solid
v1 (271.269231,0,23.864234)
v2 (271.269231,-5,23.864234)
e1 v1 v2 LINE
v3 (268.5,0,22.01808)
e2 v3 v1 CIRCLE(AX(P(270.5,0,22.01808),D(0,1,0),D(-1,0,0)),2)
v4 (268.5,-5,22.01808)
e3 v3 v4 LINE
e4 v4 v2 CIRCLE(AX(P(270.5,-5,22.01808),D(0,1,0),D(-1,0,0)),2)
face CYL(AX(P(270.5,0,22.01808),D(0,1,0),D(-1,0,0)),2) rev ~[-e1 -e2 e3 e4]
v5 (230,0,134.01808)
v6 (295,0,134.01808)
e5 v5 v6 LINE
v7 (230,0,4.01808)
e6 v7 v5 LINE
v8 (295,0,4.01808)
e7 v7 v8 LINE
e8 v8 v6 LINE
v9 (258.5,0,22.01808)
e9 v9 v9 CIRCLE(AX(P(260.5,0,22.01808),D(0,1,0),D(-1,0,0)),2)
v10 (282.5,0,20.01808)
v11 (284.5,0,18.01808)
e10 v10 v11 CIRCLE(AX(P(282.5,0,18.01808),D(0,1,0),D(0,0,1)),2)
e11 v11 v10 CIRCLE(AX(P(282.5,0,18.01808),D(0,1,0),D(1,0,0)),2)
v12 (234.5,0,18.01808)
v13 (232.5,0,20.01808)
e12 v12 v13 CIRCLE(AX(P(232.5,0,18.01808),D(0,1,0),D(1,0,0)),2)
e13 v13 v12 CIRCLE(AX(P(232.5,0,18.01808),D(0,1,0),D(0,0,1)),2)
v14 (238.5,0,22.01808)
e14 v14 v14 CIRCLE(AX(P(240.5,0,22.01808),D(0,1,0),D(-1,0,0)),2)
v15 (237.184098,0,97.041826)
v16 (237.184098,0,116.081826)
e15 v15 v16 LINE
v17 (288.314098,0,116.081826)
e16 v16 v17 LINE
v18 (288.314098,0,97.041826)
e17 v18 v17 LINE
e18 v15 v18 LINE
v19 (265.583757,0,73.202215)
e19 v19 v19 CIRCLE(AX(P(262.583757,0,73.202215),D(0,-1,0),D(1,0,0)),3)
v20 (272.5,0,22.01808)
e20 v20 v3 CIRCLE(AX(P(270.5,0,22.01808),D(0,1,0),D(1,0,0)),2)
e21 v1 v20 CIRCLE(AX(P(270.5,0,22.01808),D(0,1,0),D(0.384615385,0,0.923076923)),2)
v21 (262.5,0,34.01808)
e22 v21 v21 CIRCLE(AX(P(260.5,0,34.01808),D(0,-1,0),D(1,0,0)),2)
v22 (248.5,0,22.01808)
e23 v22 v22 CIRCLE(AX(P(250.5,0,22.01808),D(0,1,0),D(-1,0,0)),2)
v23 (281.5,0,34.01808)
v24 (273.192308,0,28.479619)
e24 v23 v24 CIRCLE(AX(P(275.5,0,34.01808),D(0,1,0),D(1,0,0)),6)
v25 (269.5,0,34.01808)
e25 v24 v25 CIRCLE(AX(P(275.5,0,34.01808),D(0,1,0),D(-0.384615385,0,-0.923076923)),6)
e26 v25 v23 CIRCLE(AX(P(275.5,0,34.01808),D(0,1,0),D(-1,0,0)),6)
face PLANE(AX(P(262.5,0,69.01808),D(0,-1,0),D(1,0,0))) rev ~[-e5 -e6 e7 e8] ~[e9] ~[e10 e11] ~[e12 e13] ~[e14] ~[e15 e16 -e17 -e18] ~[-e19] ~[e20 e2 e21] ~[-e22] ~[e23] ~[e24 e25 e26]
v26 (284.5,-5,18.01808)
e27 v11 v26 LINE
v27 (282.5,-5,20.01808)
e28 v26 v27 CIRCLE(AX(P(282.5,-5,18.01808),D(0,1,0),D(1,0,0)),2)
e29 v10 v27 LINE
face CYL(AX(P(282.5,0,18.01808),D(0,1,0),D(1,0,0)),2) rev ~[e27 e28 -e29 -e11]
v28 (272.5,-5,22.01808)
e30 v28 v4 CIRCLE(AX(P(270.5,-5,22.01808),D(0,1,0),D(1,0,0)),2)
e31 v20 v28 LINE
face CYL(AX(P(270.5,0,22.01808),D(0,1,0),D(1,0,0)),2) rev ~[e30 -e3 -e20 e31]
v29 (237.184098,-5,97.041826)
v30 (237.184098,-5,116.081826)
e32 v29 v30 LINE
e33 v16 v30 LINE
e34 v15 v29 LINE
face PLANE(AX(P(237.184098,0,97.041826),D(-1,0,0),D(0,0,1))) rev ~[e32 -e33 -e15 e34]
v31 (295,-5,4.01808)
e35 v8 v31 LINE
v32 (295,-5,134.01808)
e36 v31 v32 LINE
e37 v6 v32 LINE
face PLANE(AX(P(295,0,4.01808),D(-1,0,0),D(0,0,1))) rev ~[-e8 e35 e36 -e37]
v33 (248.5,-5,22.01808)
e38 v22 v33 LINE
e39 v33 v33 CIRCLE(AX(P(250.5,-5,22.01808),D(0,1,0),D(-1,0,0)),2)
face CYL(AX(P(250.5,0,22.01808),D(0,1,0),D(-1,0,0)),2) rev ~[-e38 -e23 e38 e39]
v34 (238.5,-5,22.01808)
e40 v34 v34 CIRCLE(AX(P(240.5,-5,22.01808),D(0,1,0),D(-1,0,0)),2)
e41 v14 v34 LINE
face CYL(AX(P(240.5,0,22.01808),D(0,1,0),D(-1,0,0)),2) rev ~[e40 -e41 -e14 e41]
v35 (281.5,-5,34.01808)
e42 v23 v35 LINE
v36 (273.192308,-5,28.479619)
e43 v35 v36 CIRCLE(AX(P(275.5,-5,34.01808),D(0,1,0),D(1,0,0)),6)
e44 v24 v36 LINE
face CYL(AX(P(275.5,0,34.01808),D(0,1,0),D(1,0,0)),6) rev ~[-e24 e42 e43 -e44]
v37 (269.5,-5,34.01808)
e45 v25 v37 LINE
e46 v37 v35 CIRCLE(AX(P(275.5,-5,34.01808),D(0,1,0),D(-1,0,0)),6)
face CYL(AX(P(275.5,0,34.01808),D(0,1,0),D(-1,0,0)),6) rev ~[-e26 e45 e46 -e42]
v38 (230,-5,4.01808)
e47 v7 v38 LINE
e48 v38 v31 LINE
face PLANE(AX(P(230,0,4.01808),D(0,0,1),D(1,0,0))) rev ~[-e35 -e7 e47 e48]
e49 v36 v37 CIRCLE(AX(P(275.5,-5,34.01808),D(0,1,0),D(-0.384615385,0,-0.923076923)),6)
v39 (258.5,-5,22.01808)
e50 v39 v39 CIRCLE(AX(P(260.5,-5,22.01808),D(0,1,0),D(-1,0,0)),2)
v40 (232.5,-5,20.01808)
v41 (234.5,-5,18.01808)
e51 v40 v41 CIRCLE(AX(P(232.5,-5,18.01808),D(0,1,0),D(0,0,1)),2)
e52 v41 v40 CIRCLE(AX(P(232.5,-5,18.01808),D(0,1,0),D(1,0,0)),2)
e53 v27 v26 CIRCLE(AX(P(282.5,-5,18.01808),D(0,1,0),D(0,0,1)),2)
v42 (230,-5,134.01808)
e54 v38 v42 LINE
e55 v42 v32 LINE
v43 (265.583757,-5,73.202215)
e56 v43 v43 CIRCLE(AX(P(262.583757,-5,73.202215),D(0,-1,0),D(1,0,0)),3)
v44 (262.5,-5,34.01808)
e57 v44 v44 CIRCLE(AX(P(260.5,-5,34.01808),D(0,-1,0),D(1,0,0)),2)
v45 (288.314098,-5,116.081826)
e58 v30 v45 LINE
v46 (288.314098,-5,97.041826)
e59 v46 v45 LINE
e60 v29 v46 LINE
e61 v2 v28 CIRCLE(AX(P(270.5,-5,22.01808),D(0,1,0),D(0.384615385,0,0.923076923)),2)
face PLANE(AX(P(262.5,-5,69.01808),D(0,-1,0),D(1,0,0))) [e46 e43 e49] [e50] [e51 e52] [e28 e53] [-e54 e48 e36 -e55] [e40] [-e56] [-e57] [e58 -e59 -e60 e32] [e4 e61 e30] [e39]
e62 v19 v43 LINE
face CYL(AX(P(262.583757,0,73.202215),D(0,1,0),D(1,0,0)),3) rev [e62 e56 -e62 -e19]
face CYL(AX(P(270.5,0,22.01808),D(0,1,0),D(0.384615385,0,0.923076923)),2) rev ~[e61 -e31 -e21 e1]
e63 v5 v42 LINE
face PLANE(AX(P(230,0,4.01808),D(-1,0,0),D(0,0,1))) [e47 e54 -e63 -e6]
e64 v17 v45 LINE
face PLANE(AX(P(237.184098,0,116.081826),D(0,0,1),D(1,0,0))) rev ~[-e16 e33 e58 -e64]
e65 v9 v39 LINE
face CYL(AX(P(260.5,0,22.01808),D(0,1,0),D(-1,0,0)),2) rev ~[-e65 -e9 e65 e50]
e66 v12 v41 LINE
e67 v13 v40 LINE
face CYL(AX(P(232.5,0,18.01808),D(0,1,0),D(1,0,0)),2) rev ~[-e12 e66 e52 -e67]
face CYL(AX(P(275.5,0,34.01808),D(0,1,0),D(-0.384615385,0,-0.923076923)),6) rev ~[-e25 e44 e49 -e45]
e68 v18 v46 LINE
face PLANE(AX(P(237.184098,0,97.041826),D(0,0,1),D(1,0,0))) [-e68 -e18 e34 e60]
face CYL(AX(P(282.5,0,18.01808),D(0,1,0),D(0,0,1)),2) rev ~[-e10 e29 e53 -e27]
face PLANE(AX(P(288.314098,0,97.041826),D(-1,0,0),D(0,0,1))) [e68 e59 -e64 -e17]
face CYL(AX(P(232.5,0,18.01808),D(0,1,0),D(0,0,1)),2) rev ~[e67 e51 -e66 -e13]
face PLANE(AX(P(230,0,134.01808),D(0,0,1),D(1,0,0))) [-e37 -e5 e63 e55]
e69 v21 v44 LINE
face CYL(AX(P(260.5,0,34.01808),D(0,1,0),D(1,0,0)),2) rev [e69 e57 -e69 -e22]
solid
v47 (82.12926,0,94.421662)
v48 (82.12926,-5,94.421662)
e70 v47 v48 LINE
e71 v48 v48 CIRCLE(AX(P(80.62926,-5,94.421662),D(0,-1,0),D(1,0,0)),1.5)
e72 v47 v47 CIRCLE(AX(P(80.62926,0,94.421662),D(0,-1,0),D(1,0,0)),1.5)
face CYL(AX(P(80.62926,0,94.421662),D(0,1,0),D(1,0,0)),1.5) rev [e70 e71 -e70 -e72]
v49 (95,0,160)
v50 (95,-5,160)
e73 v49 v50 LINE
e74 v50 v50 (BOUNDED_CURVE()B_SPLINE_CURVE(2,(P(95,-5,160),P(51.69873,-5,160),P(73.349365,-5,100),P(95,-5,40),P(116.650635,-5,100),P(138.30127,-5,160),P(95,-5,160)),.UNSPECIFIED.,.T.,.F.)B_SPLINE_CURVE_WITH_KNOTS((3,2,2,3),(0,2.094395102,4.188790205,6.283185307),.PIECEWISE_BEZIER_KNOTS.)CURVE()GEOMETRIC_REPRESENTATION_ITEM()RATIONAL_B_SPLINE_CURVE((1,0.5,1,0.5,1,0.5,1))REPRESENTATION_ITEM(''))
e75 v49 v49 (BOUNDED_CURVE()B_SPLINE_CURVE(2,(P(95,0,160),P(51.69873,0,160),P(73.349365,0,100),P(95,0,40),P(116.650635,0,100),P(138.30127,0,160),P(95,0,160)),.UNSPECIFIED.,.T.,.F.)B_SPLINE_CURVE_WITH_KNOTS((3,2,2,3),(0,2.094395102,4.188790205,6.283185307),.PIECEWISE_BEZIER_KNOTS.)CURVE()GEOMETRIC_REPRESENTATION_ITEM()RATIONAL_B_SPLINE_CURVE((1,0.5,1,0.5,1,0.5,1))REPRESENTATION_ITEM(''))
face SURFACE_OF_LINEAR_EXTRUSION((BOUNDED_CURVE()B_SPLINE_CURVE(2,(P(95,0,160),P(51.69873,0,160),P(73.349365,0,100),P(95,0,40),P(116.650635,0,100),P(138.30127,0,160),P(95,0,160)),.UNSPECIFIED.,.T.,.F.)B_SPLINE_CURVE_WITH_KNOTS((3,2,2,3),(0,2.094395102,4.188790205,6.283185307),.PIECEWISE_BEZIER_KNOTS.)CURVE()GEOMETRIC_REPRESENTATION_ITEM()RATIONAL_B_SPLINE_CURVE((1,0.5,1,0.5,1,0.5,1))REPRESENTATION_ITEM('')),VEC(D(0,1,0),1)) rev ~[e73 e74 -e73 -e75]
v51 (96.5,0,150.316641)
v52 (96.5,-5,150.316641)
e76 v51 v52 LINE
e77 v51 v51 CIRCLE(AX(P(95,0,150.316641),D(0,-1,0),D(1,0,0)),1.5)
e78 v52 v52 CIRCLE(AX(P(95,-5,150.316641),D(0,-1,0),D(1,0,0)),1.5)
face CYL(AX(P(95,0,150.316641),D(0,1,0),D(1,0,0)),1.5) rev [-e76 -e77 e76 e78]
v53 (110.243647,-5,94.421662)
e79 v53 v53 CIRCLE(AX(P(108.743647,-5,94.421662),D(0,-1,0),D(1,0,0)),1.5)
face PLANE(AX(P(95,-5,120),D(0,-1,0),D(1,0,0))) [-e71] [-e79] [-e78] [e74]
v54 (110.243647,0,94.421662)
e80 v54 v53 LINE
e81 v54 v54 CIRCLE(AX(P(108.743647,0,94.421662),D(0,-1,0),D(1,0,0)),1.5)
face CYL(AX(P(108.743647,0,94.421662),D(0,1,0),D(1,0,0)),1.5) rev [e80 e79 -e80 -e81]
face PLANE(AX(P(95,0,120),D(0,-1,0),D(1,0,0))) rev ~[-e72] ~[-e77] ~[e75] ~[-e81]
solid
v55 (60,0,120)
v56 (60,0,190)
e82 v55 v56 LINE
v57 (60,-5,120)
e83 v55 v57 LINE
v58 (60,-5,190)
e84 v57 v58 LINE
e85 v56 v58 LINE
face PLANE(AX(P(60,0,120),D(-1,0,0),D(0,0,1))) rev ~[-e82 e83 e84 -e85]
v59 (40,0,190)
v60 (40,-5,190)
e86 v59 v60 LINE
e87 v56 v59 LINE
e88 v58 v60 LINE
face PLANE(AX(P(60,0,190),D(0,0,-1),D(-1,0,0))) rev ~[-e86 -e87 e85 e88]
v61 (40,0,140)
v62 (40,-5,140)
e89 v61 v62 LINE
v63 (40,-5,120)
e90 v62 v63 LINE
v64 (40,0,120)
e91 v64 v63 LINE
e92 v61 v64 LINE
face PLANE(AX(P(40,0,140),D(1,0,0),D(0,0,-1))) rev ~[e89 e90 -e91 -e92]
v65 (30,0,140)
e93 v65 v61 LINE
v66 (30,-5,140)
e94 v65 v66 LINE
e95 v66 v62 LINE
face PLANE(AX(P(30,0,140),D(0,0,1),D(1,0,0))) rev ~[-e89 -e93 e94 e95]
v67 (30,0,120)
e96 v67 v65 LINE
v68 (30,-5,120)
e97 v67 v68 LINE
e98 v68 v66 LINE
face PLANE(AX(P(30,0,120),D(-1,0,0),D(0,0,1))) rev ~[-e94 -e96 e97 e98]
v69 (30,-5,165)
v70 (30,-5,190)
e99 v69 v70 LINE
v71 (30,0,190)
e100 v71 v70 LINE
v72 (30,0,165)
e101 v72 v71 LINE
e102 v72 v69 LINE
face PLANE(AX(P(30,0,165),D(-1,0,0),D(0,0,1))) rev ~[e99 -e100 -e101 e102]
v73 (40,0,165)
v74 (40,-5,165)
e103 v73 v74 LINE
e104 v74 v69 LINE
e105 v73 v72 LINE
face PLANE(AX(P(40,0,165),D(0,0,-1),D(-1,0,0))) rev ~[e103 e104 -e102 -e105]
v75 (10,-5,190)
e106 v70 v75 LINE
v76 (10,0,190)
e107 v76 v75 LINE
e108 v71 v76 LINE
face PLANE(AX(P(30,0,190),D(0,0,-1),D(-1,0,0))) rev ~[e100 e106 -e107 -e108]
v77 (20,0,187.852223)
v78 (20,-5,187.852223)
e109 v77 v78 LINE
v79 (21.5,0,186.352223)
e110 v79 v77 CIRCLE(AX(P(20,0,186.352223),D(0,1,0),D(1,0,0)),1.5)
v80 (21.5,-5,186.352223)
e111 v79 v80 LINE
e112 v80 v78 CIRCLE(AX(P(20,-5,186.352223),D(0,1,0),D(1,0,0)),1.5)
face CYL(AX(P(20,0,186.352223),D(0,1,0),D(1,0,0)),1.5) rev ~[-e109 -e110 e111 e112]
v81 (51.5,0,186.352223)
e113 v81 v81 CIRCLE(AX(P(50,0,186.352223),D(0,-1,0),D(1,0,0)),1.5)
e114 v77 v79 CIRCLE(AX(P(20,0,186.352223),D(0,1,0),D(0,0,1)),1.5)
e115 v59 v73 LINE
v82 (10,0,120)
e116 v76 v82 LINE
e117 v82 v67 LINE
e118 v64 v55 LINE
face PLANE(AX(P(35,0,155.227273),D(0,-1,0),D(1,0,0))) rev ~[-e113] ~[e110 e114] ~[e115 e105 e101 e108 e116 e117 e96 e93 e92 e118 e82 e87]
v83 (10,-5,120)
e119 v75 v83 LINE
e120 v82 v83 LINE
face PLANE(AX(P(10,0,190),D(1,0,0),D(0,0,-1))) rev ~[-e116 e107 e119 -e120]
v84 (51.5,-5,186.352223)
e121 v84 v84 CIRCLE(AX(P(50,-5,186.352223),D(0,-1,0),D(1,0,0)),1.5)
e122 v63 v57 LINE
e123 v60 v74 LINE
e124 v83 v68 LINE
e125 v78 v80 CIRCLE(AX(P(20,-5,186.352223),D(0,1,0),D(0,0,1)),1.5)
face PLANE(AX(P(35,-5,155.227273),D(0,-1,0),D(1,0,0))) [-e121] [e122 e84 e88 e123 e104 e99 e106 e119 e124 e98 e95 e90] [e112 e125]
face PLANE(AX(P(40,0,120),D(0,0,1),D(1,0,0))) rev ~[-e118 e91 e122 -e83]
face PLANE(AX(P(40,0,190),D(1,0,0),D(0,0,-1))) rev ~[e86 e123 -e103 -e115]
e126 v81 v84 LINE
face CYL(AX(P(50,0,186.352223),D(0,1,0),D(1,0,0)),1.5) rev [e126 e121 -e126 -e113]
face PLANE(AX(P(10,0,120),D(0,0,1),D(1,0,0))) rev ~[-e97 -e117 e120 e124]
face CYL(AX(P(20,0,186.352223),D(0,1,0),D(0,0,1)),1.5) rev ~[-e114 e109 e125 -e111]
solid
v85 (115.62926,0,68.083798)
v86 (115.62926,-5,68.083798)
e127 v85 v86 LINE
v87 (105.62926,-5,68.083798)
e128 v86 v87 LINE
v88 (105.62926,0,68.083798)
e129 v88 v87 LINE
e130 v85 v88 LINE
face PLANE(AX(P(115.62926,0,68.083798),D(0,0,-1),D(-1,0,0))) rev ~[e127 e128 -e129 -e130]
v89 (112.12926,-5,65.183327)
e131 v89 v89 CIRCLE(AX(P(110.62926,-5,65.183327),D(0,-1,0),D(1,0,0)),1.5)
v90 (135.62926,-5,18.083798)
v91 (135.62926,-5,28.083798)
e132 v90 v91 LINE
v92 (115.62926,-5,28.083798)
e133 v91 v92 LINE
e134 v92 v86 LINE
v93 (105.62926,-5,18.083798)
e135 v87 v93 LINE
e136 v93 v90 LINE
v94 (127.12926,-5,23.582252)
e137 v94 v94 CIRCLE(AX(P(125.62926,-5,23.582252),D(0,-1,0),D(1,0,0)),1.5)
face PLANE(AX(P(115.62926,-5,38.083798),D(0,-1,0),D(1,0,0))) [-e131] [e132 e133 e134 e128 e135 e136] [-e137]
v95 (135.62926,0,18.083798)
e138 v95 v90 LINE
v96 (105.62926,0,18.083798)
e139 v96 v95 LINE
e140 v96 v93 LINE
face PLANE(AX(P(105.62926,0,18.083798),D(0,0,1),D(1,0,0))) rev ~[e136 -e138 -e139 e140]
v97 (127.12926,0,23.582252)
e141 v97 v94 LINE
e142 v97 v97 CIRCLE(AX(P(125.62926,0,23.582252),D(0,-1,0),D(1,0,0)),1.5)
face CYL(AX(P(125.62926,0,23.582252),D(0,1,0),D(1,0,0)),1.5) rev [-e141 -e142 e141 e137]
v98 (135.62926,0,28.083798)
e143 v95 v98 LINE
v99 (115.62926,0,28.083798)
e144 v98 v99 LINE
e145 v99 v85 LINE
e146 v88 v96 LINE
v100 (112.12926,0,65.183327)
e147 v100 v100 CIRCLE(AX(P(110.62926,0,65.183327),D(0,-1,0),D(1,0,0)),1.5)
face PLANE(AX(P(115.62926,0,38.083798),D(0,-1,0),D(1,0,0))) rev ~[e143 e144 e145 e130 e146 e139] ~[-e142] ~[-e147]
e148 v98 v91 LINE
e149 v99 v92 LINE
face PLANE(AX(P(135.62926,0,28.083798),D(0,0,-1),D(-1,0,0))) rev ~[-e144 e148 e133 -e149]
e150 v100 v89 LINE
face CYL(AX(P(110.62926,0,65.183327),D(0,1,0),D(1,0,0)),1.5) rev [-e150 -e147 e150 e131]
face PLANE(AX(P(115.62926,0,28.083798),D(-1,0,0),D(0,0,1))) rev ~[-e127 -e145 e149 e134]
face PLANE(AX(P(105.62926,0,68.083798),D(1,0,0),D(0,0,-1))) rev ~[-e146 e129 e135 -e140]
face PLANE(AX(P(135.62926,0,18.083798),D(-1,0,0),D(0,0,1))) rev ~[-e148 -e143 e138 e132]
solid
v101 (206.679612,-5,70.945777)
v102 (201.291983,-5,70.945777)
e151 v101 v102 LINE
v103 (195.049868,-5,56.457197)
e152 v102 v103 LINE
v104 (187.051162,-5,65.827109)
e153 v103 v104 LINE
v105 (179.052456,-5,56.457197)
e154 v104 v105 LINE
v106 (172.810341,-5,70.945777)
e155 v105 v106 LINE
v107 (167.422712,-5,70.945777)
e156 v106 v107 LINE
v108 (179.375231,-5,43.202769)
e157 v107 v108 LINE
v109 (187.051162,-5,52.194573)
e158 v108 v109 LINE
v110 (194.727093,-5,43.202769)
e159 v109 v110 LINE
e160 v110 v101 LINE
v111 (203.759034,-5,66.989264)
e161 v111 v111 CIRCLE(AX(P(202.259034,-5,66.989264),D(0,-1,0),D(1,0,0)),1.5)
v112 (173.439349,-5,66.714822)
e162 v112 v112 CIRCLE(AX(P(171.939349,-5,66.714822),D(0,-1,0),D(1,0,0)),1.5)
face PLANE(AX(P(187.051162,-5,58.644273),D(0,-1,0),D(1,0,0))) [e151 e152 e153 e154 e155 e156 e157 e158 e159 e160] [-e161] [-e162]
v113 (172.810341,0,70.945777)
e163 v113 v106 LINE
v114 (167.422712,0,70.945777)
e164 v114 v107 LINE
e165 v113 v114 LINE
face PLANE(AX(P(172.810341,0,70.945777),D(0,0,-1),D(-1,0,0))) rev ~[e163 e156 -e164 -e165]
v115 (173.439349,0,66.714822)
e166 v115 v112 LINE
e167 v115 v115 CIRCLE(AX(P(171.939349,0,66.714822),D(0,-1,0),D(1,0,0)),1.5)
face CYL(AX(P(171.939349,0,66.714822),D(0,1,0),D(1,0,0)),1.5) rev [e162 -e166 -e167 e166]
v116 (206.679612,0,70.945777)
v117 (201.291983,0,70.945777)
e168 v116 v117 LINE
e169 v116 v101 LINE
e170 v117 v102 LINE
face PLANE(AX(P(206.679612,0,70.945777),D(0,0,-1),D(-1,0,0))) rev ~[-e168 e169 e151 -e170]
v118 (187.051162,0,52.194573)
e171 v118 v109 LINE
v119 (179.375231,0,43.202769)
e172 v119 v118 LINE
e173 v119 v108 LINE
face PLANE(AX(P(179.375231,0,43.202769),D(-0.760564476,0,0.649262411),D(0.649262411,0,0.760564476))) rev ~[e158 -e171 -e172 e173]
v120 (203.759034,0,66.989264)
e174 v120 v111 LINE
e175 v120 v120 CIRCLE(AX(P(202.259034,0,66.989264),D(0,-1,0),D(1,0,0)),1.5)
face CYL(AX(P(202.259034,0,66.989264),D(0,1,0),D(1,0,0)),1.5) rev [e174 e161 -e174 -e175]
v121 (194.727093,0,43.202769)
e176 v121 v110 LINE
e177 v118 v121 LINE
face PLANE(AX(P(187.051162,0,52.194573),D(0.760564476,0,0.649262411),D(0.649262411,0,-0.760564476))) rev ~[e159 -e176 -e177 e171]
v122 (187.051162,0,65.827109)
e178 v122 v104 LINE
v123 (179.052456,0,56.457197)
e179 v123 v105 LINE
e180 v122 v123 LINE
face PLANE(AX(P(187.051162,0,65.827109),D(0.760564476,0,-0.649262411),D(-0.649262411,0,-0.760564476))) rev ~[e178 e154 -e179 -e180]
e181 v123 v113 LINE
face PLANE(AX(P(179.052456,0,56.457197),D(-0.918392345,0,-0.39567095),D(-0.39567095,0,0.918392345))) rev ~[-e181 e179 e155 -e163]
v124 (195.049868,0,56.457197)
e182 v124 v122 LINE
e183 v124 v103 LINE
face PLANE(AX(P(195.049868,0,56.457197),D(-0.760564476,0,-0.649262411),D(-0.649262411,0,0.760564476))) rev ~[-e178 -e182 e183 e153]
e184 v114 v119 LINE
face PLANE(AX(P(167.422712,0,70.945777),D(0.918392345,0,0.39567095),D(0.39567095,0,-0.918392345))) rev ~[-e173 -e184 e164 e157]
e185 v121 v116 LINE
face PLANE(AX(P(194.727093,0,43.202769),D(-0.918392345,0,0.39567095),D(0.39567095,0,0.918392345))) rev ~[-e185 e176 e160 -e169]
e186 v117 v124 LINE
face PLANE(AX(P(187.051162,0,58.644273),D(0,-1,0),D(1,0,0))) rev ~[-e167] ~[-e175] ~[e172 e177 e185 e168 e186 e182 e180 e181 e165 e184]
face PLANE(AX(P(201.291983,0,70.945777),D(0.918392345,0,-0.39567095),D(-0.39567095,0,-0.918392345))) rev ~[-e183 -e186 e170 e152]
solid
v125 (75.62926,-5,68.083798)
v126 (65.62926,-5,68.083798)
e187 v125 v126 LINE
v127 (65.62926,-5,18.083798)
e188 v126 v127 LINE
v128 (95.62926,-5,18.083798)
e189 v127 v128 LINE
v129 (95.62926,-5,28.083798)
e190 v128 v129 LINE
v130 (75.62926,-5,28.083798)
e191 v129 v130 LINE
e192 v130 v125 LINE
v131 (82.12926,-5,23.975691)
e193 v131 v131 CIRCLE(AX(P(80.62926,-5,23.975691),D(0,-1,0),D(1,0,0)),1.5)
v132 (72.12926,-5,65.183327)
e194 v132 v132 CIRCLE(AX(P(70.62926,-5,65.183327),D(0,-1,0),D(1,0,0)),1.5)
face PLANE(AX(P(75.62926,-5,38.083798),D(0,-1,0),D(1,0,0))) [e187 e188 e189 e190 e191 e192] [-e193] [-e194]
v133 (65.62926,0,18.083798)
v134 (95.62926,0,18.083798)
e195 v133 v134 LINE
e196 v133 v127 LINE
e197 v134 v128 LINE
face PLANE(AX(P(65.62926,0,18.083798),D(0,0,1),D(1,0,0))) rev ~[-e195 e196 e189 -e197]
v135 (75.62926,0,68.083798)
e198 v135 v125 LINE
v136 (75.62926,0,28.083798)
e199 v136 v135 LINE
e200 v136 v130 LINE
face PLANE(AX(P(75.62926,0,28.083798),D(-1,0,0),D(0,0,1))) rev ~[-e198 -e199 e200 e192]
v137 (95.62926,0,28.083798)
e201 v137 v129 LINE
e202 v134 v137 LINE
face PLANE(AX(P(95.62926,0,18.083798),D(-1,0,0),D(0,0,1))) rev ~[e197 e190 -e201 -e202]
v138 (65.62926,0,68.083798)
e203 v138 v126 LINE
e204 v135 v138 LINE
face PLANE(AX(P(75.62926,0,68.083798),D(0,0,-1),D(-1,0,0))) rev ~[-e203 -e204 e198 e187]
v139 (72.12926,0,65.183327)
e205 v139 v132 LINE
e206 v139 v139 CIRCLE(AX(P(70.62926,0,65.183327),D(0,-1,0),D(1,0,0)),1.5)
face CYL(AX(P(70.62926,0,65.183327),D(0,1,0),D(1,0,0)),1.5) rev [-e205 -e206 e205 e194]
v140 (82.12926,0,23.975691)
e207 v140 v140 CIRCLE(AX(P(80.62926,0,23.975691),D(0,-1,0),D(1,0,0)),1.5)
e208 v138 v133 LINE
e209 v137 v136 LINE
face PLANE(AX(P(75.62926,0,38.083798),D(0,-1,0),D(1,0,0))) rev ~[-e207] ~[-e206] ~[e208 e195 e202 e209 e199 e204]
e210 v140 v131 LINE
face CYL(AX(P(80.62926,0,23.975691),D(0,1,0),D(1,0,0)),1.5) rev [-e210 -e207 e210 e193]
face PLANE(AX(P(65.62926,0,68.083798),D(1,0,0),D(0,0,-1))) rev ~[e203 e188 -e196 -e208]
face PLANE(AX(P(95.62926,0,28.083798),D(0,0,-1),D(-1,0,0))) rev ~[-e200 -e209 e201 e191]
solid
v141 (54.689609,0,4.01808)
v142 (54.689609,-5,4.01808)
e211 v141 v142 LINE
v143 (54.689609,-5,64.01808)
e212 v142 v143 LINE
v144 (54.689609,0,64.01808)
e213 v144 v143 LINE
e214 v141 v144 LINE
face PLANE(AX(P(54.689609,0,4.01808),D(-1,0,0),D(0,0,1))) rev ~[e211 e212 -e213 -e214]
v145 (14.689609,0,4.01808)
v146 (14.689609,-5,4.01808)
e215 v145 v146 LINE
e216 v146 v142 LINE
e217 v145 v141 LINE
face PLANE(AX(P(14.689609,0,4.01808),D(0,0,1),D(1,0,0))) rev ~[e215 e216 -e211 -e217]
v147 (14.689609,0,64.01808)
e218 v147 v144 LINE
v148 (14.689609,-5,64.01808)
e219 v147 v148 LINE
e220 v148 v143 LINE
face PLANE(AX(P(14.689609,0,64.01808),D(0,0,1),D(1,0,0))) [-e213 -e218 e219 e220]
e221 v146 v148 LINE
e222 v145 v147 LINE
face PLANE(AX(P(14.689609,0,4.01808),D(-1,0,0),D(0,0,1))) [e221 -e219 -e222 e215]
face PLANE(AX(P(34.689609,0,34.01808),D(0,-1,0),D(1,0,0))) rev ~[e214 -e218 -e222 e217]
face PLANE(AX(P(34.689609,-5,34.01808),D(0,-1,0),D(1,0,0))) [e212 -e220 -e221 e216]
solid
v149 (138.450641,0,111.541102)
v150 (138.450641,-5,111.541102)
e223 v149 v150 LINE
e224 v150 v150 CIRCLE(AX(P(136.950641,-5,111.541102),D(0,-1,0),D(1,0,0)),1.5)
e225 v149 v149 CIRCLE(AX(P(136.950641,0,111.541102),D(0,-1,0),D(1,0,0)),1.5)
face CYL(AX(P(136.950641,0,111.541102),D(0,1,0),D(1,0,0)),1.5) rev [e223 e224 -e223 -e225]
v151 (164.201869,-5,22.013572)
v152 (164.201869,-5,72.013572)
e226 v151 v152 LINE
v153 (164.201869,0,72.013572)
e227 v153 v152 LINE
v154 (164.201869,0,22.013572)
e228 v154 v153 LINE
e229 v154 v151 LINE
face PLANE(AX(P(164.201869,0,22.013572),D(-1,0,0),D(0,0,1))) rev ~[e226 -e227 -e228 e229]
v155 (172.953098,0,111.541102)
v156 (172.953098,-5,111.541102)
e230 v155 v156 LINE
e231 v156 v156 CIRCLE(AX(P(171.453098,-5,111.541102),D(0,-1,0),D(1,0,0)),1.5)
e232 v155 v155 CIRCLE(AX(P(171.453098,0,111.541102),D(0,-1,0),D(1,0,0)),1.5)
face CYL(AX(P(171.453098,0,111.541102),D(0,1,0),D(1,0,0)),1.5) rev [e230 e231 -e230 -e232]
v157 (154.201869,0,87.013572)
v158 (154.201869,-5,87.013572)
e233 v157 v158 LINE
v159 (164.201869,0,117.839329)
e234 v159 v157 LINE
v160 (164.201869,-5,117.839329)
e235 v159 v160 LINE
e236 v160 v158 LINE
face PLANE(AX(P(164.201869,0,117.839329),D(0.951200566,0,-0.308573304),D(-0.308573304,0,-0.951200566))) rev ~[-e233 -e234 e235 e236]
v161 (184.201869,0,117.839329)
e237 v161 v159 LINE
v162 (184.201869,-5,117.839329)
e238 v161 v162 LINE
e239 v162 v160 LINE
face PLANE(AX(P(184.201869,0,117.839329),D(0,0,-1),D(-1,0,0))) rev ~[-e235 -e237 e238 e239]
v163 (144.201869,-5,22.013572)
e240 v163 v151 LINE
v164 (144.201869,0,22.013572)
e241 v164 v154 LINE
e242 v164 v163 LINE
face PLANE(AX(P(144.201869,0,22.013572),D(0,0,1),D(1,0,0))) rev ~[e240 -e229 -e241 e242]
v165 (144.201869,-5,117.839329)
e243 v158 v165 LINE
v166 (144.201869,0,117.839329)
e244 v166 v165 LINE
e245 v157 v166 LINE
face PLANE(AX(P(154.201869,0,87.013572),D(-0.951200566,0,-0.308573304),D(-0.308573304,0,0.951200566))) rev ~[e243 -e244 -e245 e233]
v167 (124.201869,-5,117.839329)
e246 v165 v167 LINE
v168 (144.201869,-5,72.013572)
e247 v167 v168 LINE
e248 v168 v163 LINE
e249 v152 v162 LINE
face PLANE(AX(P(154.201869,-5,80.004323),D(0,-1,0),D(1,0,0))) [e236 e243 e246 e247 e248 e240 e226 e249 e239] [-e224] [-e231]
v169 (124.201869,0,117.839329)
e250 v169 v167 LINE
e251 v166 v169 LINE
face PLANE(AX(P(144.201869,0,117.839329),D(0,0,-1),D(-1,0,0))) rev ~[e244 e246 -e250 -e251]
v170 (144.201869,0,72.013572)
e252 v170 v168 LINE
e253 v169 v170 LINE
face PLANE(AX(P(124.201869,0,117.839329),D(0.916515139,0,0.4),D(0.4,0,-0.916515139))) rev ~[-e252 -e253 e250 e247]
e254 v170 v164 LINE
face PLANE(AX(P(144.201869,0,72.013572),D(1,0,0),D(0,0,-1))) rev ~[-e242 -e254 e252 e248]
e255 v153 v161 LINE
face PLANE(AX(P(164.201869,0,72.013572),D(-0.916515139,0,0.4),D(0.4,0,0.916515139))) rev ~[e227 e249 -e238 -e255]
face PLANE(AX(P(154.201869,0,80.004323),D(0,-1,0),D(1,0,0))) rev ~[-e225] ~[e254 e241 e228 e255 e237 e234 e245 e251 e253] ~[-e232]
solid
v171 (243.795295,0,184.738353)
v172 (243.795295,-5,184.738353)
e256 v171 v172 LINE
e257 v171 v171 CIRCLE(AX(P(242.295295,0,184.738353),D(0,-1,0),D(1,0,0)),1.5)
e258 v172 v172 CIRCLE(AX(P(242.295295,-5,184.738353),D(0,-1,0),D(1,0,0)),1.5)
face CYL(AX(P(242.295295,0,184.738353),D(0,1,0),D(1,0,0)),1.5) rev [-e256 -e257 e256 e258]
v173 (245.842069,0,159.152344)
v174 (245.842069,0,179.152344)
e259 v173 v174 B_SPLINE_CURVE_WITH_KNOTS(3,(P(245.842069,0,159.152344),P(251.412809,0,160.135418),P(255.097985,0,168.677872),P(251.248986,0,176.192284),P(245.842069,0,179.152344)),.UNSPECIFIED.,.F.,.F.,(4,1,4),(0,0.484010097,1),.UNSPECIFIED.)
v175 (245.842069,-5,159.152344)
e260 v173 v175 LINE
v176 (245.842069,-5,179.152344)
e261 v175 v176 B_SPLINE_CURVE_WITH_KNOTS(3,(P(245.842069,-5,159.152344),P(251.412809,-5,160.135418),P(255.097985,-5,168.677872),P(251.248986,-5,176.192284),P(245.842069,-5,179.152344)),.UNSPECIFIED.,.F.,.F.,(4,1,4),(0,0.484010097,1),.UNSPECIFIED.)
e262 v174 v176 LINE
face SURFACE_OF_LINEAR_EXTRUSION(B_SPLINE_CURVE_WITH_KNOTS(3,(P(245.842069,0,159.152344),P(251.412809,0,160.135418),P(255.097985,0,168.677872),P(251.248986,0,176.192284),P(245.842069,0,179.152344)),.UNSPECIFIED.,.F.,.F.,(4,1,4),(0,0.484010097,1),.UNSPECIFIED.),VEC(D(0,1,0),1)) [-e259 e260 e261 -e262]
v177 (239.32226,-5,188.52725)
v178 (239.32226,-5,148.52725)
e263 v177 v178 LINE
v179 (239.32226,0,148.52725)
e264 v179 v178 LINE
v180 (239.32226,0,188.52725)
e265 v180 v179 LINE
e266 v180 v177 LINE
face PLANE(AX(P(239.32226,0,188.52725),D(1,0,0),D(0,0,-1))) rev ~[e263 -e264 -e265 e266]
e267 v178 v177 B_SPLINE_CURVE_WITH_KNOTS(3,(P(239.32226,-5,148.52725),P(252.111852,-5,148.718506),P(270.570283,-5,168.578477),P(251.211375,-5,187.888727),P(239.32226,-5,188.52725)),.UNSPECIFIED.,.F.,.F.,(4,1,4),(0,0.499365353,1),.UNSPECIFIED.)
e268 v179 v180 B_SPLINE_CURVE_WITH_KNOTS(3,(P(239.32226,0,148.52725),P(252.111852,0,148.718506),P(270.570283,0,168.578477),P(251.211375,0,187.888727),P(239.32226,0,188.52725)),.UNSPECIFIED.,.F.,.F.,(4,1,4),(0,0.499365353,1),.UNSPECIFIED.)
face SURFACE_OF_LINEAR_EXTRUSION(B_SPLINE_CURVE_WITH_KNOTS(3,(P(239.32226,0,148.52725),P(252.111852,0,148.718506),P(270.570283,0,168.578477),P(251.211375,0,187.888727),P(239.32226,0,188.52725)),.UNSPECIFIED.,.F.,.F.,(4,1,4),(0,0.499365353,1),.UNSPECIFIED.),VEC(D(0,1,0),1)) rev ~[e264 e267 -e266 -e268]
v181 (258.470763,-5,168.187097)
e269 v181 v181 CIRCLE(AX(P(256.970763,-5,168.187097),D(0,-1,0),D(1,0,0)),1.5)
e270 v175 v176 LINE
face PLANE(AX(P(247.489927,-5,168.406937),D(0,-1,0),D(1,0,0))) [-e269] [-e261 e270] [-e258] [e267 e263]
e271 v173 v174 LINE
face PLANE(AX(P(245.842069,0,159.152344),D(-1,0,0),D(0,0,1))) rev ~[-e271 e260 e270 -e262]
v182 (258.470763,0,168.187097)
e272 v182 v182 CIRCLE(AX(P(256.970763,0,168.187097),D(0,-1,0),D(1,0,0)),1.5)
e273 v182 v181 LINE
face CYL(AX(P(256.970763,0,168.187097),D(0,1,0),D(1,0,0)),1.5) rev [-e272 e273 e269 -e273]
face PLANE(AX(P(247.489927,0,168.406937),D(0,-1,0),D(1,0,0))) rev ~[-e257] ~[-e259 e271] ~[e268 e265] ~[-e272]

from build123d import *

# Parameters (mm, degrees)
F0_R     = 1.5
F1_DEPTH = 5
F2_DEPTH = 5
F0_W     = 40
F0_H     = 60
F3_DEPTH = 5
F4_DEPTH = 5
F5_DEPTH = 5
F6_DEPTH = 5
F7_DEPTH = 5
F0_W_2   = 65
F0_H_2   = 130
F0_R_2   = 2
F0_R_3   = 3
F0_W_3   = 51.13
F0_H_3   = 19.04
F8_DEPTH = 5
F9_DEPTH = 5


with BuildPart() as f1:
    # F0 (on Front) → F1 (new body)
    with BuildSketch(Plane.XZ):
        Polygon((20, 190), (10, 190), (10, 120), (30, 120), (30, 140), (40, 140), (40, 120), (60, 120), (60, 190), (40, 190), (40, 165), (30, 165), (30, 190), align=None)
        with BuildLine():
            ThreePointArc((21.5, 186.3522231579), (18.9393398282, 185.2915629861), (20, 187.8522231579))
            ThreePointArc((20, 187.8522231579), (21.0606601718, 187.4128833297), (21.5, 186.3522231579))
        make_face(mode=Mode.SUBTRACT)
        with Locations((50, 186.3522231579)):
            Circle(F0_R, mode=Mode.SUBTRACT)
    extrude(amount=F1_DEPTH)


with BuildPart() as f2:
    # F0 (on Front) → F2 (new body)
    with BuildSketch(Plane.XZ):
        with BuildLine():
            add(Edge.make_bspline(
                [(95, 160), (51.6987298108, 160), (73.3493649054, 100), (95, 40), (116.6506350946, 100), (138.3012701892, 160), (95, 160)],
                knots=[0, 0, 0, 2.0943951024, 2.0943951024, 4.1887902048, 4.1887902048, 6.2831853072, 6.2831853072, 6.2831853072], degree=2, weights=[1, 0.5, 1, 0.5, 1, 0.5, 1]))
        make_face()
        with Locations((80.629259944, 94.4216623902)):
            Circle(F0_R, mode=Mode.SUBTRACT)
        with Locations((108.7436466813, 94.4216623902)):
            Circle(F0_R, mode=Mode.SUBTRACT)
        with Locations((95, 150.3166407347)):
            Circle(F0_R, mode=Mode.SUBTRACT)
    extrude(amount=F2_DEPTH)


with BuildPart() as f3:
    # F0 (on Front) → F3 (new body)
    with BuildSketch(Plane.XZ):
        with Locations((34.6896094084, 34.0180804208)):
            Rectangle(F0_W, F0_H)
    extrude(amount=F3_DEPTH)


with BuildPart() as f4:
    # F0 (on Front) → F4 (new body)
    with BuildSketch(Plane.XZ):
        Polygon((75.629259944, 68.0837977678), (65.629259944, 68.0837977678), (65.629259944, 18.0837977678), (95.629259944, 18.0837977678), (95.629259944, 28.0837977678), (75.629259944, 28.0837977678), align=None)
        with Locations((80.629259944, 23.9756908268)):
            Circle(F0_R, mode=Mode.SUBTRACT)
        with Locations((70.629259944, 65.183326602)):
            Circle(F0_R, mode=Mode.SUBTRACT)
    extrude(amount=F4_DEPTH)


with BuildPart() as f5:
    # F0 (on Front) → F5 (new body)
    with BuildSketch(Plane.XZ):
        Polygon((105.629259944, 68.0837977678), (105.629259944, 26.1917153746), (105.629259944, 18.0837977678), (135.629259944, 18.0837977678), (135.629259944, 28.0837977678), (115.629259944, 28.0837977678), (115.629259944, 68.0837977678), align=None)
        with Locations((125.629259944, 23.5822517425)):
            Circle(F0_R, mode=Mode.SUBTRACT)
        with Locations((110.629259944, 65.183326602)):
            Circle(F0_R, mode=Mode.SUBTRACT)
    extrude(amount=F5_DEPTH)


with BuildPart() as f6:
    # F0 (on Front) → F6 (new body)
    with BuildSketch(Plane.XZ):
        Polygon((144.201869312, 72.0135718386), (144.201869312, 22.0135718386), (154.201869312, 22.0135718386), (164.201869312, 22.0135718386), (164.201869312, 72.0135718386), (184.201869312, 117.8393287882), (164.201869312, 117.8393287882), (154.201869312, 87.0135718386), (144.201869312, 117.8393287882), (124.201869312, 117.8393287882), align=None)
        with Locations((136.950640825, 111.541102025)):
            Circle(F0_R, mode=Mode.SUBTRACT)
        with Locations((171.453097799, 111.541102025)):
            Circle(F0_R, mode=Mode.SUBTRACT)
    extrude(amount=F6_DEPTH)


with BuildPart() as f7:
    # F0 (on Front) → F7 (new body)
    with BuildSketch(Plane.XZ):
        Polygon((172.8103414067, 70.945776999), (167.4227118492, 70.945776999), (179.375231266, 43.2027690113), (187.0511621237, 52.1945729852), (194.7270929813, 43.2027690113), (206.6796123981, 70.945776999), (201.2919828406, 70.945776999), (195.0498682227, 56.4571968372), (187.0511621237, 65.8271089196), (179.0524560247, 56.4571968372), align=None)
        with Locations((171.9393488823, 66.7148219512)):
            Circle(F0_R, mode=Mode.SUBTRACT)
        with Locations((202.2590336395, 66.9892636765)):
            Circle(F0_R, mode=Mode.SUBTRACT)
    extrude(amount=F7_DEPTH)


with BuildPart() as f8:
    # F0 (on Front) → F8 (new body)
    with BuildSketch(Plane.XZ):
        with Locations((262.5, 69.0180804208)):
            Rectangle(F0_W_2, F0_H_2)
        with BuildLine():
            ThreePointArc((234.5, 18.0180804208), (231.0857864376, 16.6038668584), (232.5, 20.0180804208))
            ThreePointArc((232.5, 20.0180804208), (233.9142135624, 19.4322939832), (234.5, 18.0180804208))
        make_face(mode=Mode.SUBTRACT)
        with BuildLine():
            ThreePointArc((242.5, 22.0180804208), (240.5, 20.0180804208), (238.5, 22.0180804208))
            ThreePointArc((238.5, 22.0180804208), (240.5, 24.0180804208), (242.5, 22.0180804208))
        make_face(mode=Mode.SUBTRACT)
        with BuildLine():
            ThreePointArc((252.5, 22.0180804208), (250.5, 20.0180804208), (248.5, 22.0180804208))
            ThreePointArc((248.5, 22.0180804208), (250.5, 24.0180804208), (252.5, 22.0180804208))
        make_face(mode=Mode.SUBTRACT)
        with BuildLine():
            ThreePointArc((262.5, 22.0180804208), (260.5, 20.0180804208), (258.5, 22.0180804208))
            ThreePointArc((258.5, 22.0180804208), (260.5, 24.0180804208), (262.5, 22.0180804208))
        make_face(mode=Mode.SUBTRACT)
        with BuildLine():
            ThreePointArc((272.5, 22.0180804208), (270.5, 20.0180804208), (268.5, 22.0180804208))
            ThreePointArc((268.5, 22.0180804208), (269.3905996075, 23.6821810095), (271.2692307692, 23.8642342669))
            ThreePointArc((271.2692307692, 23.8642342669), (272.1641005887, 23.1274808132), (272.5, 22.0180804208))
        make_face(mode=Mode.SUBTRACT)
        with BuildLine():
            ThreePointArc((284.5, 18.0180804208), (281.0857864376, 16.6038668584), (282.5, 20.0180804208))
            ThreePointArc((282.5, 20.0180804208), (283.9142135624, 19.4322939832), (284.5, 18.0180804208))
        make_face(mode=Mode.SUBTRACT)
        with Locations((260.5, 34.0180804208)):
            Circle(F0_R_2, mode=Mode.SUBTRACT)
        with BuildLine():
            ThreePointArc((281.5, 34.0180804208), (278.8282011774, 29.0257786548), (273.1923076923, 28.4796188823))
            ThreePointArc((273.1923076923, 28.4796188823), (270.507698234, 30.6898792434), (269.5, 34.0180804208))
            ThreePointArc((269.5, 34.0180804208), (275.5, 40.0180804208), (281.5, 34.0180804208))
        make_face(mode=Mode.SUBTRACT)
        with Locations((262.5837569305, 73.2022146539)):
            Circle(F0_R_3, mode=Mode.SUBTRACT)
        with Locations((262.7490977669, 106.5618263888)):
            Rectangle(F0_W_3, F0_H_3, mode=Mode.SUBTRACT)
    extrude(amount=F8_DEPTH)


with BuildPart() as f9:
    # F0 (on Front) → F9 (new body)
    with BuildSketch(Plane.XZ):
        with BuildLine():
            add(Edge.make_bspline(
                [(239.3222600222, 148.5272496939), (252.111852169, 148.7185060978), (270.5702832483, 168.5784769645), (251.2113749981, 187.8887265921), (239.3222600222, 188.5272496939)],
                knots=[0, 0, 0, 0, 0.4993653529, 1, 1, 1, 1], degree=3))
            Line((239.3222600222, 188.5272496939), (239.3222600222, 148.5272496939))
        make_face()
        with BuildLine():
            Line((245.8420693874, 159.1523438692), (245.8420693874, 179.1523438692))
            add(Edge.make_bspline(
                [(245.8420693874, 159.1523438692), (251.4128088951, 160.1354181767), (255.0979846667, 168.6778720508), (251.2489855289, 176.1922836304), (245.8420693874, 179.1523438692)],
                knots=[0, 0, 0, 0, 0.4840100966, 1, 1, 1, 1], degree=3))
        make_face(mode=Mode.SUBTRACT)
        with Locations((256.9707632065, 168.187096715)):
            Circle(F0_R, mode=Mode.SUBTRACT)
        with Locations((242.295295, 184.7383528948)):
            Circle(F0_R, mode=Mode.SUBTRACT)
    extrude(amount=F9_DEPTH)


solid = Compound([f1.part, f2.part, f3.part, f4.part, f5.part, f6.part, f7.part, f8.part, f9.part])
